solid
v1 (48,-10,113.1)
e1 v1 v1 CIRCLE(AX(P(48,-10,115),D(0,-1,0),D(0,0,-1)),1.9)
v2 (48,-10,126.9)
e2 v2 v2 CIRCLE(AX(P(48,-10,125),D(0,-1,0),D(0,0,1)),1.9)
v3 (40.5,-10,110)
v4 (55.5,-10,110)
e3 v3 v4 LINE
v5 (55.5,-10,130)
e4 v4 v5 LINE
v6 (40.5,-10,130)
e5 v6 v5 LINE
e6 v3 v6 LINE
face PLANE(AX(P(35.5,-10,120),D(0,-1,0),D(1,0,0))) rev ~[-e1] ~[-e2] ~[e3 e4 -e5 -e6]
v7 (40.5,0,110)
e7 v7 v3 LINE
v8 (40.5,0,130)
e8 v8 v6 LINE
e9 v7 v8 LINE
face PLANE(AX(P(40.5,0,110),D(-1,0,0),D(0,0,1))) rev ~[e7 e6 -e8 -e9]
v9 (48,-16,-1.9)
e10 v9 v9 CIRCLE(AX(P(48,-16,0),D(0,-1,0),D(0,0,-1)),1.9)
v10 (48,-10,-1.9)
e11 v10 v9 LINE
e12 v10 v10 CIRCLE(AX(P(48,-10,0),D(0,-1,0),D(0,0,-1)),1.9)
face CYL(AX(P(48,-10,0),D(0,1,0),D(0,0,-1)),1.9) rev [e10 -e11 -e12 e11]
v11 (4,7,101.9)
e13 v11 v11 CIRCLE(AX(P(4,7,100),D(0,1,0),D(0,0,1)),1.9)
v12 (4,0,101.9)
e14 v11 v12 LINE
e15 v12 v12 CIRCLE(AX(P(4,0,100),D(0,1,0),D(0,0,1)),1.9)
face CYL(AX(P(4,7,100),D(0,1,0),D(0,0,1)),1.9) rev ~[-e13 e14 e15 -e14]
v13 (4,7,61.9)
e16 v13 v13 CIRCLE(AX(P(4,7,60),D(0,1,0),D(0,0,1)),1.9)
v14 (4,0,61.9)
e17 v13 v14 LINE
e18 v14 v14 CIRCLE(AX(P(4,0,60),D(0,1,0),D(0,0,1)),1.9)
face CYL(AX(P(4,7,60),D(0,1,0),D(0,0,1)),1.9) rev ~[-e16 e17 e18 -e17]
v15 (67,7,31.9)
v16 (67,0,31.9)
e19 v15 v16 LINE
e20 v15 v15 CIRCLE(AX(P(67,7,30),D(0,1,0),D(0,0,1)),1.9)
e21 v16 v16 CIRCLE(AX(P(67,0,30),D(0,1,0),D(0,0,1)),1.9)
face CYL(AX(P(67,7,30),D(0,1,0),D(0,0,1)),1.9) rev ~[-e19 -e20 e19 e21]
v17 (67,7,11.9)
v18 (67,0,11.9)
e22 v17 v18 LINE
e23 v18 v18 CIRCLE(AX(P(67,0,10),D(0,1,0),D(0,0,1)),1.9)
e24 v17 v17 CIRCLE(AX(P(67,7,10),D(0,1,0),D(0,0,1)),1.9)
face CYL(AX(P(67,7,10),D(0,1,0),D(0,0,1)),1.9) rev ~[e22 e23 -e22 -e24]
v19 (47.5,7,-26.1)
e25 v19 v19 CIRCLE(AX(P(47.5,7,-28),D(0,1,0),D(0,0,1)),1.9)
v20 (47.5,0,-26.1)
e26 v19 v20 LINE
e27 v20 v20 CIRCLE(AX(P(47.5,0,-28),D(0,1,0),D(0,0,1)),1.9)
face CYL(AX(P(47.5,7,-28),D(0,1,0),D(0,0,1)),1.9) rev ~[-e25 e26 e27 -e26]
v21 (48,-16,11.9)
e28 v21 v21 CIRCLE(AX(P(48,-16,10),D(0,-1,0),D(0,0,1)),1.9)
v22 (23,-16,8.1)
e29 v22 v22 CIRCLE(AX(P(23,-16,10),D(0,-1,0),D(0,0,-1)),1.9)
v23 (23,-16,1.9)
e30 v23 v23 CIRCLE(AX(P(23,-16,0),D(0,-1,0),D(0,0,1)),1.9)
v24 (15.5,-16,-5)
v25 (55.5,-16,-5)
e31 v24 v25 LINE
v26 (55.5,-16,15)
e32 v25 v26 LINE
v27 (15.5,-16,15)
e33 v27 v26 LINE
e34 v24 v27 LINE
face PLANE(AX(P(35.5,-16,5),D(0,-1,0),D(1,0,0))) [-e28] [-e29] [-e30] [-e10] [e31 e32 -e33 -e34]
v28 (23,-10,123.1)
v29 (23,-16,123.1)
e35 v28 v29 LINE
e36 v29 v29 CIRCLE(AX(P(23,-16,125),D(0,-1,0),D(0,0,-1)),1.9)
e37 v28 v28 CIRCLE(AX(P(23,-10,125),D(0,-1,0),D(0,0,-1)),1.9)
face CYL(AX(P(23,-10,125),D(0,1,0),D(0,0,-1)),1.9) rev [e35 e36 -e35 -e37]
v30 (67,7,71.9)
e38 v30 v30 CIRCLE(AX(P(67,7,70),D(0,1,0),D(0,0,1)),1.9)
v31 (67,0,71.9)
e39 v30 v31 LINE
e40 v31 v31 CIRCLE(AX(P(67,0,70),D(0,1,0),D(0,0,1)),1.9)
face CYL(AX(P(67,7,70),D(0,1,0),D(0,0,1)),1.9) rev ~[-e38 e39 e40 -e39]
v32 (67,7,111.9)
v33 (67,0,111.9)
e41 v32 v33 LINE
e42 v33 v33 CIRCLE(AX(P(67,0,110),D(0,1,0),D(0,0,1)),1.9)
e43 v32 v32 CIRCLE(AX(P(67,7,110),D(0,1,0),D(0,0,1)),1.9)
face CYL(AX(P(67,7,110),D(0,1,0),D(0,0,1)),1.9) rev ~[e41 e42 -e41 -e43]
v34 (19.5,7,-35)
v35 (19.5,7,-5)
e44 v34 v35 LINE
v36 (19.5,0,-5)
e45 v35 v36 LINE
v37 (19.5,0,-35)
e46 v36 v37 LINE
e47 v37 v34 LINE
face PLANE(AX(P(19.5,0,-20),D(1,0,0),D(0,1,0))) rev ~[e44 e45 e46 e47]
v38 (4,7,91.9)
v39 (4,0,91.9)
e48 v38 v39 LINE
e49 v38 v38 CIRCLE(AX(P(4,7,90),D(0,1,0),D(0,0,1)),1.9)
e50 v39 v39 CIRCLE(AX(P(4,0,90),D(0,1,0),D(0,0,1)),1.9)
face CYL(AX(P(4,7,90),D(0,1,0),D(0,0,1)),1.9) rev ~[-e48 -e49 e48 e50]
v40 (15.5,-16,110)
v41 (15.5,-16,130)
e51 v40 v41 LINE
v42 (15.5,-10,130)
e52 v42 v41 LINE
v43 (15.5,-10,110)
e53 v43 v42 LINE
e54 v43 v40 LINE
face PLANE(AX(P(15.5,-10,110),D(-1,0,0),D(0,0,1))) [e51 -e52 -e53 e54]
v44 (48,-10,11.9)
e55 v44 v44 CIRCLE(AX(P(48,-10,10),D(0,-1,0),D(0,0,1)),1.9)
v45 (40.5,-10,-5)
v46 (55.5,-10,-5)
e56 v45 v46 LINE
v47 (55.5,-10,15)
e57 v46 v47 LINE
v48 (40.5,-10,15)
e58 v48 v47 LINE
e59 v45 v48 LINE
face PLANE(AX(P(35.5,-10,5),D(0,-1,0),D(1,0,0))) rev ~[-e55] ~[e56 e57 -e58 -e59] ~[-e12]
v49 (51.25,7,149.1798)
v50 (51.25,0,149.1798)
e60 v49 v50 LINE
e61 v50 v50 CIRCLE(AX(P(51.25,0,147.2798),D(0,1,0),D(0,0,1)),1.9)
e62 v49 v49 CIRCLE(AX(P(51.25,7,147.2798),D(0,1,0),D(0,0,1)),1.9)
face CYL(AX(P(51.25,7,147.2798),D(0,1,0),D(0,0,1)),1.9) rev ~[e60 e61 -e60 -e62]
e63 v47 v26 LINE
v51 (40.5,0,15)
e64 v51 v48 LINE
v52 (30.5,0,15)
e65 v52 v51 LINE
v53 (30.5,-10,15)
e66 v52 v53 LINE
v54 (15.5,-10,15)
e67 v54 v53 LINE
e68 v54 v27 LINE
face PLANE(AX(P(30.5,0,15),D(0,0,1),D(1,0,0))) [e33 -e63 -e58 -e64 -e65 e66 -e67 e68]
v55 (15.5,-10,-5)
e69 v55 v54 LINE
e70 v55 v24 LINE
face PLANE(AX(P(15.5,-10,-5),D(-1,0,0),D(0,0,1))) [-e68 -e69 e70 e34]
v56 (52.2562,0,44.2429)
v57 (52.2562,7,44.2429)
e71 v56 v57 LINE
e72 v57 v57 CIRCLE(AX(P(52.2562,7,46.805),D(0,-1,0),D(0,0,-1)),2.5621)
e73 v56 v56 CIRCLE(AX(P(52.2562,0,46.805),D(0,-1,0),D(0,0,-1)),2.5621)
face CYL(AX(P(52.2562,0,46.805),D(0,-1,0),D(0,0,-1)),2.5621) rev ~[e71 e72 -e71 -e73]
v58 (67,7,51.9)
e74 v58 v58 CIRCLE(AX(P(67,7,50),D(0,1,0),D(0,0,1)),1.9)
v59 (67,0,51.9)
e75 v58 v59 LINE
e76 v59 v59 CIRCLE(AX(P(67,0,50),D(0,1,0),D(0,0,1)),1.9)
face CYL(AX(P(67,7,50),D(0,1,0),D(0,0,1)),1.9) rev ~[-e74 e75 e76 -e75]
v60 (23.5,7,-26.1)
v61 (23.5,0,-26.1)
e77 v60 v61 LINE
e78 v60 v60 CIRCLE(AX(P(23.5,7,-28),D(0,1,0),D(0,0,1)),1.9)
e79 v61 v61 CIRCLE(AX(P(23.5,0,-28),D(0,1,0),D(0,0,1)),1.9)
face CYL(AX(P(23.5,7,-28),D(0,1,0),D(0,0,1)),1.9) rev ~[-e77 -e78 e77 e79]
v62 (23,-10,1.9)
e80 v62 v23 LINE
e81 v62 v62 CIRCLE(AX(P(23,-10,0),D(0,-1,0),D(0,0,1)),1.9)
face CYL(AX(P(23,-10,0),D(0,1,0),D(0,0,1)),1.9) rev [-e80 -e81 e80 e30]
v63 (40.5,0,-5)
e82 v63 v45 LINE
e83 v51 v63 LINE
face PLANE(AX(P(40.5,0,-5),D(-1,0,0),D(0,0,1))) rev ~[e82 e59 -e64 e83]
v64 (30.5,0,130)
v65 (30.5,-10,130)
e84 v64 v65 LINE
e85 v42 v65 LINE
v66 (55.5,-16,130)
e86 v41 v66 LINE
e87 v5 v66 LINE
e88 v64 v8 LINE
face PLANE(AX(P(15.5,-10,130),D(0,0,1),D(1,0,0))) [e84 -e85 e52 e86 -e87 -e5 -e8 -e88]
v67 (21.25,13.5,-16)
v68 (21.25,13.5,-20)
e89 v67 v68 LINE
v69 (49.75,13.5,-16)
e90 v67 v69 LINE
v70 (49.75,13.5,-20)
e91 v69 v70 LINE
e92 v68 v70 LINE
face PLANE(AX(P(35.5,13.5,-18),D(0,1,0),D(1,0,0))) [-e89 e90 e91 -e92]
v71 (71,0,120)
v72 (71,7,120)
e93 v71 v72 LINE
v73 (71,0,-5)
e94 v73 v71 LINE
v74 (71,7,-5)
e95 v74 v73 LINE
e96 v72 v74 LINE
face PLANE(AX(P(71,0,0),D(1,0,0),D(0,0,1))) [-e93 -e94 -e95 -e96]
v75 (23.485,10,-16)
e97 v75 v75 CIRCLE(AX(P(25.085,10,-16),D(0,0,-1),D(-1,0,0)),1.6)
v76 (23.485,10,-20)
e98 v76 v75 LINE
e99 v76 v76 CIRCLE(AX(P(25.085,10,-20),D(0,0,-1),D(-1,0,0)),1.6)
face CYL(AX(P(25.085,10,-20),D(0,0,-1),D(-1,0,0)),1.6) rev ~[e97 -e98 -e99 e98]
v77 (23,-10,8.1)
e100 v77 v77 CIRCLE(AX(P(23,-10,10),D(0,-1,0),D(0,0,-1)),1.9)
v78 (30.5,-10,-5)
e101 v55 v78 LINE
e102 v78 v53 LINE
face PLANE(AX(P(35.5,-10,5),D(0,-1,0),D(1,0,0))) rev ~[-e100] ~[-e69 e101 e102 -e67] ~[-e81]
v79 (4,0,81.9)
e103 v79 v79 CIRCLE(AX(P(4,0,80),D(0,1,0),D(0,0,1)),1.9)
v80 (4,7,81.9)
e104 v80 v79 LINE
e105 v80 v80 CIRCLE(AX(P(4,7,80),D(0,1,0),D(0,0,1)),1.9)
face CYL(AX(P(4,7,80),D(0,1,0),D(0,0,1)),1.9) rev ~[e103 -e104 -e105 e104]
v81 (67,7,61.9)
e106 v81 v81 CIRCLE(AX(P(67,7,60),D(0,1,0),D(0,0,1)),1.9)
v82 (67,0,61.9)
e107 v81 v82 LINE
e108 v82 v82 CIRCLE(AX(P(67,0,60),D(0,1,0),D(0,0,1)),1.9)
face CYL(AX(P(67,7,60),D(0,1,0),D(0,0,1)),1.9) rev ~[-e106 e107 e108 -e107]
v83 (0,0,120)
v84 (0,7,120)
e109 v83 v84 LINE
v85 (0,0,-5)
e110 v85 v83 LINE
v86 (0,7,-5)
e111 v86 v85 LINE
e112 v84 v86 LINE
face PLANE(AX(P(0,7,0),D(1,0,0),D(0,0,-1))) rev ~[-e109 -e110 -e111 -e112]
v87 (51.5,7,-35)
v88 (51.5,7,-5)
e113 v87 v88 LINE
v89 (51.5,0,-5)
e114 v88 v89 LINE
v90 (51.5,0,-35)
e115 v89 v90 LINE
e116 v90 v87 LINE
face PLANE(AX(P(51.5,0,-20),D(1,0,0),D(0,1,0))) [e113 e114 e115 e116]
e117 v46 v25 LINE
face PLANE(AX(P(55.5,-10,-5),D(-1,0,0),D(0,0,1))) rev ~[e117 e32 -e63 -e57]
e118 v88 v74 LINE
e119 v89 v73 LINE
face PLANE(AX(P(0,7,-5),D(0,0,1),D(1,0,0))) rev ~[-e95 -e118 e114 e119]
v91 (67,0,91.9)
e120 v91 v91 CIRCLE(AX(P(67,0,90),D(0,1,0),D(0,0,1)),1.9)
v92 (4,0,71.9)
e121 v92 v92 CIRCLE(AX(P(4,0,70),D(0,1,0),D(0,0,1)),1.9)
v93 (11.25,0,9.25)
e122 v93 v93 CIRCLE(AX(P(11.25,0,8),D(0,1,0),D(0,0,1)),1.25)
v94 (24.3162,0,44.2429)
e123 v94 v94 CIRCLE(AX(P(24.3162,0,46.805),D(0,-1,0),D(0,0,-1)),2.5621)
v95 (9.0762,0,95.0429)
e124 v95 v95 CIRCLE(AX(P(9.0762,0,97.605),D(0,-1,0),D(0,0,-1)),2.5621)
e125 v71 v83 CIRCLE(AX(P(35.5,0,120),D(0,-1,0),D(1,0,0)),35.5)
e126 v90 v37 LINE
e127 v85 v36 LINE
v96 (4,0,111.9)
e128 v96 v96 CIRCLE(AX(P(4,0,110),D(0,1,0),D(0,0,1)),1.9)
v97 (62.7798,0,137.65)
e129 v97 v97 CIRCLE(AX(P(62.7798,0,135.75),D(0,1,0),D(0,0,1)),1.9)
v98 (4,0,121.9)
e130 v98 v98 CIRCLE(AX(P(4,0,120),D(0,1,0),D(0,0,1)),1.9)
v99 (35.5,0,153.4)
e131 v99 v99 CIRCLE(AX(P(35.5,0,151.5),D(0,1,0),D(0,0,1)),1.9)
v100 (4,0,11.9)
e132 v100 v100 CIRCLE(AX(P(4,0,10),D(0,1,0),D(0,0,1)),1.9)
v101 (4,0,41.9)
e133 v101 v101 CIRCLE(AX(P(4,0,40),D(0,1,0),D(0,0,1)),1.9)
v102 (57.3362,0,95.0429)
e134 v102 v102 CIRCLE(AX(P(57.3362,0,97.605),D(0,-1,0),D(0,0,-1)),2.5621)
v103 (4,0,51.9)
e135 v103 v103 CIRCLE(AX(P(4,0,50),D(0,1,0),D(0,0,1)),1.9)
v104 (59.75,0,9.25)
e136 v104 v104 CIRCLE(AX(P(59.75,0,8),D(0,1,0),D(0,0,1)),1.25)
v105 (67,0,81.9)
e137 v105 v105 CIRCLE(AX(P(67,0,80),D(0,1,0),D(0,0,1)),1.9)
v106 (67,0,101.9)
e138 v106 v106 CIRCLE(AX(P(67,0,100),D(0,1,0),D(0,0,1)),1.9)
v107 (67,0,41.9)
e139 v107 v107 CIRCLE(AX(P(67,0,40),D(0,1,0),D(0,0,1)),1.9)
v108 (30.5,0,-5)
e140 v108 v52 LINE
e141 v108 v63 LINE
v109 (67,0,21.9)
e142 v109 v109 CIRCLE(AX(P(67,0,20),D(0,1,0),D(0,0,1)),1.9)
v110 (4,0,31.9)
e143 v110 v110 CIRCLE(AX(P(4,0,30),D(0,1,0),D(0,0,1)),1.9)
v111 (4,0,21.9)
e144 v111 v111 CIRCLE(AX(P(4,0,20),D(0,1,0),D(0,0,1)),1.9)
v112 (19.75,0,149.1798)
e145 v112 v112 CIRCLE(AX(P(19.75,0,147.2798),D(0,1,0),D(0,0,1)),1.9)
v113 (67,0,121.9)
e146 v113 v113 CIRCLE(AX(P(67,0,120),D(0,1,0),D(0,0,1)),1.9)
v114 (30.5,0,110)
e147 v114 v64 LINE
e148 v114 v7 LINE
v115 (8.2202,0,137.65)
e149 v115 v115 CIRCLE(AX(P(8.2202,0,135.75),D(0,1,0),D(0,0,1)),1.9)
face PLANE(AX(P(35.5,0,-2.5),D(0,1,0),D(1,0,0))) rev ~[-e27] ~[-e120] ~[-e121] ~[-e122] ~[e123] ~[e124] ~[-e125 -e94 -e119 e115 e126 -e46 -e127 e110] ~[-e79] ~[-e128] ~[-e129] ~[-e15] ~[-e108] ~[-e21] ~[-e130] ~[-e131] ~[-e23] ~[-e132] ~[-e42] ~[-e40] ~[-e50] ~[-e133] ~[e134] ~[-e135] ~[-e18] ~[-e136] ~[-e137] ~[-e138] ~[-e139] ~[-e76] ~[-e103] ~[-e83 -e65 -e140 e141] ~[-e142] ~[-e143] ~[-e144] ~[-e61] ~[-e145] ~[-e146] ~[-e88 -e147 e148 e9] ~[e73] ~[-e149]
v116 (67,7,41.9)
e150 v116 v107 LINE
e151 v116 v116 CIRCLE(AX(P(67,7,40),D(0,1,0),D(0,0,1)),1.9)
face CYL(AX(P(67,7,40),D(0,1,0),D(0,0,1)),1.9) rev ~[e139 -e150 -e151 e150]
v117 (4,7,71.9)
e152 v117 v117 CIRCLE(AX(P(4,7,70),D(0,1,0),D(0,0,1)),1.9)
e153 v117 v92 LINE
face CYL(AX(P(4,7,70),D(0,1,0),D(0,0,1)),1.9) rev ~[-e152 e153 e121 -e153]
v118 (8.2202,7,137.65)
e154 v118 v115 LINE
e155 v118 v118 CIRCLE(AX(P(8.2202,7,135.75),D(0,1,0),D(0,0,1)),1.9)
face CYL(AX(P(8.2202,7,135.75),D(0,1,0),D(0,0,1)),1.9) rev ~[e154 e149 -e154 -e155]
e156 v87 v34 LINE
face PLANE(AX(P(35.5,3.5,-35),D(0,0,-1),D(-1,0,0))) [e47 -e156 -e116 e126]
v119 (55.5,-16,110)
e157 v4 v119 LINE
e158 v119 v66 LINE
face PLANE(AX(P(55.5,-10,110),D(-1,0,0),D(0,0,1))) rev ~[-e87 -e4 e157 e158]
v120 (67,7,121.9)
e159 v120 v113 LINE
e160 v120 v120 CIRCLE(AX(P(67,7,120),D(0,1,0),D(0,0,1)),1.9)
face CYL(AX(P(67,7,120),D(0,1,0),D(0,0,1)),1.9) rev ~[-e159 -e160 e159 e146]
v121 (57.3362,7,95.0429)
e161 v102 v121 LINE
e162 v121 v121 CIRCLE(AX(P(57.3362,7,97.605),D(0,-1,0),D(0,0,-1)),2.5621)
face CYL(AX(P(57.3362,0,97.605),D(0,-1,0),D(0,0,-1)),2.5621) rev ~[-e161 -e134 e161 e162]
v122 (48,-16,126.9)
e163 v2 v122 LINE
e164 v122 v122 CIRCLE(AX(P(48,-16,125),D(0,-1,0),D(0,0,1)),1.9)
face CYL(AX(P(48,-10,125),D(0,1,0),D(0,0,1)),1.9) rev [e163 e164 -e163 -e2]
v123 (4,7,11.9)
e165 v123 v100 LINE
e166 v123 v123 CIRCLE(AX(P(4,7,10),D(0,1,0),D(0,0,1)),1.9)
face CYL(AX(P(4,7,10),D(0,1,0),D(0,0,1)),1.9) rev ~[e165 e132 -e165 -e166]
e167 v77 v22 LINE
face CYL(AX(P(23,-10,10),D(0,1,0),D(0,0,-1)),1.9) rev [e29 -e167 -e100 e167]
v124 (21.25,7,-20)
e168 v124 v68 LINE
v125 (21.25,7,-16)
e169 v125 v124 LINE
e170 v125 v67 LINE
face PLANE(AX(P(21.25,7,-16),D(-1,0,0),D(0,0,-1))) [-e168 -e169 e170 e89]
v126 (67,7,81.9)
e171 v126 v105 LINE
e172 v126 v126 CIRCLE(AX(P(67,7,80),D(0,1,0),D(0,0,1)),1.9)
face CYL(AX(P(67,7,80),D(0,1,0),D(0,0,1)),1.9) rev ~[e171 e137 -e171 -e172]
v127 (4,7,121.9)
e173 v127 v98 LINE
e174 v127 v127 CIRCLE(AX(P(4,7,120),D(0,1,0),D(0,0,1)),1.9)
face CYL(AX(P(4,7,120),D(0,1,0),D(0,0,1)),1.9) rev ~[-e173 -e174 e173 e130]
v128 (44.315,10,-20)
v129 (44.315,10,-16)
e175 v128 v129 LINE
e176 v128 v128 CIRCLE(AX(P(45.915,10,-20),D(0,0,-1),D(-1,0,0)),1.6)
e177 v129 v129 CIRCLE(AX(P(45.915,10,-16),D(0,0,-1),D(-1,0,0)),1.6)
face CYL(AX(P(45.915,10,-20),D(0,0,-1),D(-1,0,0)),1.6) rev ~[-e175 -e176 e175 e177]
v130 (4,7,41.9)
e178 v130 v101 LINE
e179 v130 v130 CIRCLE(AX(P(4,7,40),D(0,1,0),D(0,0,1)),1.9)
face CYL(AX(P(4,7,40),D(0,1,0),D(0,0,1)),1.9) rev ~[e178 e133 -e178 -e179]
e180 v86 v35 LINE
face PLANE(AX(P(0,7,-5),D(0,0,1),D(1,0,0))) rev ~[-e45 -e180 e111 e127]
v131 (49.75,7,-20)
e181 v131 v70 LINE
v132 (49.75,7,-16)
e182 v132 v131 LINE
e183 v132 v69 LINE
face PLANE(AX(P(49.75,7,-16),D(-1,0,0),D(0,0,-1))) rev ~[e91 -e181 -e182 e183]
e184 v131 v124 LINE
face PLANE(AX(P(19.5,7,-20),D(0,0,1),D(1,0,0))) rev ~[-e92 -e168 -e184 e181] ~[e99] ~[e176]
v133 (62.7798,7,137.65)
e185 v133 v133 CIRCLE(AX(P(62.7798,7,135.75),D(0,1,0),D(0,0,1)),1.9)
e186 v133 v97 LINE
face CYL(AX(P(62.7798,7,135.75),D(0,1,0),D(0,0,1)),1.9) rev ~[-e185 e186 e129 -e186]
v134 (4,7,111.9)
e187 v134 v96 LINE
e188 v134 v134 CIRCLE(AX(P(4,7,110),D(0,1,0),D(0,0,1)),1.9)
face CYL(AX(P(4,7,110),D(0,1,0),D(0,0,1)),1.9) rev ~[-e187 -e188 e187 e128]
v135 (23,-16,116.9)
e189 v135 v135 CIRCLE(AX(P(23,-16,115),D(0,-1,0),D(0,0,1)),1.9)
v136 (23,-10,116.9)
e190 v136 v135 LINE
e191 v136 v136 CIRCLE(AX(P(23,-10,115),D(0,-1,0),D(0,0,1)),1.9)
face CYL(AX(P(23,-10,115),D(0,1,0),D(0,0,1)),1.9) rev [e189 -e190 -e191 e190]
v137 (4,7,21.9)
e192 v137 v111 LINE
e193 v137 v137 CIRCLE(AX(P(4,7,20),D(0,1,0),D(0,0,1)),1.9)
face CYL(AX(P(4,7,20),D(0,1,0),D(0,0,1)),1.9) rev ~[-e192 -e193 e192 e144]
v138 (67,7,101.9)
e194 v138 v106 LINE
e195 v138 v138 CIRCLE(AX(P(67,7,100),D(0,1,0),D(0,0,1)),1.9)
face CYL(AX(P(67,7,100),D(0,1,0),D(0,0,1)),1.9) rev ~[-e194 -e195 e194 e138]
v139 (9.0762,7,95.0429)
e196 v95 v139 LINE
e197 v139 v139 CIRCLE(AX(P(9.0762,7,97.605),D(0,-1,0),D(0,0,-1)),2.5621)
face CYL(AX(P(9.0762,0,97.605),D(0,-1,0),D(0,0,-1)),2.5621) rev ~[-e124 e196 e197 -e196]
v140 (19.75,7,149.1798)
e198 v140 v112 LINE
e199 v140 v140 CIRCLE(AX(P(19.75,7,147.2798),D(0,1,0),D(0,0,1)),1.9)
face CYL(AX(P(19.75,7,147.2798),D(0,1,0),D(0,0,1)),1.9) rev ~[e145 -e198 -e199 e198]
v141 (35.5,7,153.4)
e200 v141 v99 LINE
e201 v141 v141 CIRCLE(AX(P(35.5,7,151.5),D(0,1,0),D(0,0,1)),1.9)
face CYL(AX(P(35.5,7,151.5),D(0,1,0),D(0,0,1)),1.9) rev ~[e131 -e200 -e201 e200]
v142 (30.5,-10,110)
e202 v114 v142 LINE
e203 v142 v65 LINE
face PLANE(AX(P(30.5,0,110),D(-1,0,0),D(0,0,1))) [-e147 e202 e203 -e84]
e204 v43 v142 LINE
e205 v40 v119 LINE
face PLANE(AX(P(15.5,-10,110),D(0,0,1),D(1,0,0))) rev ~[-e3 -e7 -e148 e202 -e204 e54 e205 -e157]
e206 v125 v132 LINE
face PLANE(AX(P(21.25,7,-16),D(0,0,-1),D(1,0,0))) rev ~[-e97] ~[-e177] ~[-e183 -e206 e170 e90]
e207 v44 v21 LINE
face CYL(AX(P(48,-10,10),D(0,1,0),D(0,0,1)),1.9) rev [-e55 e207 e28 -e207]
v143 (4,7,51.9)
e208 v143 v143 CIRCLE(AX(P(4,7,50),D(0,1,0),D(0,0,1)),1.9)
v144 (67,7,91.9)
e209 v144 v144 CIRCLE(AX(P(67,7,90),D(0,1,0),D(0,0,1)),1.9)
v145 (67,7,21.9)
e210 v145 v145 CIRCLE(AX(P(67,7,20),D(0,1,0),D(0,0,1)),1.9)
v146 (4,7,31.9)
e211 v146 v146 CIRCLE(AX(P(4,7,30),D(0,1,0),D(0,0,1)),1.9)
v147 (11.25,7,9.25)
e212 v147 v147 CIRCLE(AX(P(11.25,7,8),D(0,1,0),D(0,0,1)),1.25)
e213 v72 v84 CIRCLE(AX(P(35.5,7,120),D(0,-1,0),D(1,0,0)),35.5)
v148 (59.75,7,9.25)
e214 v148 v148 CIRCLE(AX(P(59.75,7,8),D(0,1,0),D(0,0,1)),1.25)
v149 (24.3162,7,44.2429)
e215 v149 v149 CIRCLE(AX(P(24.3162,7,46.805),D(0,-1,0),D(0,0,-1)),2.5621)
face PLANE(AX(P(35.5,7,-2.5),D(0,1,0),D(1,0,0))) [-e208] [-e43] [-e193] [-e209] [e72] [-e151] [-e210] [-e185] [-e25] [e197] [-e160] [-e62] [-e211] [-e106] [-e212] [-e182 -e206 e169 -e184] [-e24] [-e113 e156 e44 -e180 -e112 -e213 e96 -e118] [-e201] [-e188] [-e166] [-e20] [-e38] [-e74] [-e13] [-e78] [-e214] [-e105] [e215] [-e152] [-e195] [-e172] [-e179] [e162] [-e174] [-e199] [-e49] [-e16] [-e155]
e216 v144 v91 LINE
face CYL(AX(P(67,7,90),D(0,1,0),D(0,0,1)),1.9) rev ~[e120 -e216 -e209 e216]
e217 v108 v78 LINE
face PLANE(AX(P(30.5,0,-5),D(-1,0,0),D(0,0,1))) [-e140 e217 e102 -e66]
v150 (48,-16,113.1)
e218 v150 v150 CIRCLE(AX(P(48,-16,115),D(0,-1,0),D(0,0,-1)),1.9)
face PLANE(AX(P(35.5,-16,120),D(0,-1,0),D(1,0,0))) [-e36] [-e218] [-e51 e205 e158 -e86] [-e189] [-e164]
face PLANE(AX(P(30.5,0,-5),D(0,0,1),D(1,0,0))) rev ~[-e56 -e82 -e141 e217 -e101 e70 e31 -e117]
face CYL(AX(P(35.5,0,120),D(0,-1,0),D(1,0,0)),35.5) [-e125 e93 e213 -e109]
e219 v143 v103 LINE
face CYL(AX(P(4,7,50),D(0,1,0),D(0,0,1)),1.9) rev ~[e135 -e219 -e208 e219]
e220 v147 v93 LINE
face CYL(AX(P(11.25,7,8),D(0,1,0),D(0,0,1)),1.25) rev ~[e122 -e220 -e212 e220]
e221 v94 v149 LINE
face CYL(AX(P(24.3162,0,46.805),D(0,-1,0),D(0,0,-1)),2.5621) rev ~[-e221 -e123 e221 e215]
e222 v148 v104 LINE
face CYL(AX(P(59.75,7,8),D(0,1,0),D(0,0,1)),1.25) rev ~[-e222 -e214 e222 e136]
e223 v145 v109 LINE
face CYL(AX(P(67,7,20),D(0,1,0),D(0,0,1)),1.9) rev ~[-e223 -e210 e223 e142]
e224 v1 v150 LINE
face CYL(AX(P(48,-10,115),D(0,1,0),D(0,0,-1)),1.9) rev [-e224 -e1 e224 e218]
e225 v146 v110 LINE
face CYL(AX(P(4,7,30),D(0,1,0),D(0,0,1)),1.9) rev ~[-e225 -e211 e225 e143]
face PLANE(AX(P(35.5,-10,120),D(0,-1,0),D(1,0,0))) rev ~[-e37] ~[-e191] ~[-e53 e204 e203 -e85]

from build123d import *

# Parameters (mm, degrees)
MAIN_BODY_DEPTH     = 7
SKETCH3_W           = 32
SKETCH3_H           = 20
BOSS_EXTRUDE2_DEPTH = 7
SKETCH4_W           = 28.5
SKETCH4_H           = 4
BOSS_EXTRUDE3_DEPTH = 6.5
SKETCH7_W           = 32
SKETCH7_H           = 7
BOSS_EXTRUDE4_DEPTH = 15
SKETCH10_R          = 1.9
CUT_EXTRUDE5_DEPTH  = 7
SKETCH13_W          = 10
SKETCH13_H          = 20
BOSS_EXTRUDE5_DEPTH = 10
SKETCH14_W          = 40
SKETCH14_H          = 20
SKETCH14_R          = 1.9
BOSS_EXTRUDE6_DEPTH = 6
SKETCH17_W          = 71
SKETCH17_H          = 5
BOSS_EXTRUDE7_DEPTH = 7
SKETCH19_R          = 1.25
CUT_EXTRUDE7_DEPTH  = 7
SKETCH21_R          = 1.6
CUT_EXTRUDE9_DEPTH  = 4
SKETCH22_R          = 1.9
CUT_EXTRUDE10_DEPTH = 7
SKETCH15_R          = 2.5621
DUE_MOUNT_DEPTH     = 172.689399789


with BuildPart() as part:
    # Sketch2 → Main body (new body)
    with BuildSketch(Plane(origin=(0, 0, 0), x_dir=(1, 0, 0), z_dir=(0, 1, 0))):
        with BuildLine():
            Line((0, 0), (71, 0))
            Line((71, 0), (71, -120))
            ThreePointArc((71, -120), (35.5, -155.5), (0, -120))
            Line((0, -120), (0, 0))
        make_face()
    extrude(amount=MAIN_BODY_DEPTH)

    # Sketch3 → Boss-Extrude2 (add)
    with BuildSketch(Plane(origin=(0, 7, 0), x_dir=(1, 0, 0), z_dir=(0, 1, 0))):
        with Locations((35.5, 10)):
            Rectangle(SKETCH3_W, SKETCH3_H)
    extrude(amount=-BOSS_EXTRUDE2_DEPTH)

    # Sketch4 → Boss-Extrude3 (add)
    with BuildSketch(Plane(origin=(0, 7, 0), x_dir=(1, 0, 0), z_dir=(0, 1, 0))):
        with Locations((35.5, 18)):
            Rectangle(SKETCH4_W, SKETCH4_H)
    extrude(amount=BOSS_EXTRUDE3_DEPTH)

    # Sketch7 → Boss-Extrude4 (add)
    with BuildSketch(Plane(origin=(0, 0, -20), x_dir=(-1, 0, 0), z_dir=(0, 0, -1))):
        with Locations((-35.5, 3.5)):
            Rectangle(SKETCH7_W, SKETCH7_H)
    extrude(amount=BOSS_EXTRUDE4_DEPTH)

    # Sketch10 → Cut-Extrude5 (cut)
    with BuildSketch(Plane(origin=(0, 7, 0), x_dir=(1, 0, 0), z_dir=(0, 1, 0))):
        with Locations(Location((4, -120, 0), (0, 0, 270))):
            Circle(SKETCH10_R)
        with Locations(Location((4, -110, 0), (0, 0, 270))):
            Circle(SKETCH10_R)
        with Locations(Location((4, -100, 0), (0, 0, 270))):
            Circle(SKETCH10_R)
        with Locations(Location((4, -90, 0), (0, 0, 270))):
            Circle(SKETCH10_R)
        with Locations(Location((4, -80, 0), (0, 0, 270))):
            Circle(SKETCH10_R)
        with Locations(Location((4, -70, 0), (0, 0, 270))):
            Circle(SKETCH10_R)
        with Locations(Location((4, -60, 0), (0, 0, 270))):
            Circle(SKETCH10_R)
        with Locations(Location((4, -50, 0), (0, 0, 270))):
            Circle(SKETCH10_R)
        with Locations(Location((4, -40, 0), (0, 0, 270))):
            Circle(SKETCH10_R)
        with Locations(Location((4, -30, 0), (0, 0, 270))):
            Circle(SKETCH10_R)
        with Locations(Location((4, -20, 0), (0, 0, 270))):
            Circle(SKETCH10_R)
        with Locations(Location((4, -10, 0), (0, 0, 270))):
            Circle(SKETCH10_R)
        with Locations(Location((8.220199781, -135.75, 0), (0, 0, 270))):
            Circle(SKETCH10_R)
        with Locations(Location((19.75, -147.279800219, 0), (0, 0, 270))):
            Circle(SKETCH10_R)
        with Locations(Location((35.5, -151.5, 0), (0, 0, 270))):
            Circle(SKETCH10_R)
        with Locations(Location((51.25, -147.279800219, 0), (0, 0, 270))):
            Circle(SKETCH10_R)
        with Locations(Location((62.779800219, -135.75, 0), (0, 0, 270))):
            Circle(SKETCH10_R)
        with Locations(Location((67, -120, 0), (0, 0, 270))):
            Circle(SKETCH10_R)
        with Locations(Location((67, -10, 0), (0, 0, 270))):
            Circle(SKETCH10_R)
        with Locations(Location((67, -20, 0), (0, 0, 270))):
            Circle(SKETCH10_R)
        with Locations(Location((67, -30, 0), (0, 0, 270))):
            Circle(SKETCH10_R)
        with Locations(Location((67, -40, 0), (0, 0, 270))):
            Circle(SKETCH10_R)
        with Locations(Location((67, -50, 0), (0, 0, 270))):
            Circle(SKETCH10_R)
        with Locations(Location((67, -60, 0), (0, 0, 270))):
            Circle(SKETCH10_R)
        with Locations(Location((67, -70, 0), (0, 0, 270))):
            Circle(SKETCH10_R)
        with Locations(Location((67, -80, 0), (0, 0, 270))):
            Circle(SKETCH10_R)
        with Locations(Location((67, -90, 0), (0, 0, 270))):
            Circle(SKETCH10_R)
        with Locations(Location((67, -100, 0), (0, 0, 270))):
            Circle(SKETCH10_R)
        with Locations(Location((67, -110, 0), (0, 0, 270))):
            Circle(SKETCH10_R)
    extrude(amount=-CUT_EXTRUDE5_DEPTH, mode=Mode.SUBTRACT)

    # Sketch13 → Boss-Extrude5 (add)
    with BuildSketch(Plane.XZ):
        with Locations((35.5, 120)):
            Rectangle(SKETCH13_W, SKETCH13_H)
        with Locations((35.5, 5)):
            Rectangle(SKETCH13_W, SKETCH13_H)
    extrude(amount=BOSS_EXTRUDE5_DEPTH)

    # Sketch14 → Boss-Extrude6 (add)
    # profile 1 of 2: a face of its own
    with BuildSketch(Plane.XZ.offset(10)):
        with Locations((35.5, 120)):
            Rectangle(SKETCH14_W, SKETCH14_H)
        with Locations(Location((23, 125, 0), (0, 0, 270))):
            Circle(SKETCH14_R, mode=Mode.SUBTRACT)
        with Locations(Location((23, 115, 0), (0, 0, 90))):
            Circle(SKETCH14_R, mode=Mode.SUBTRACT)
        with Locations(Location((48, 125, 0), (0, 0, 90))):
            Circle(SKETCH14_R, mode=Mode.SUBTRACT)
        with Locations(Location((48, 115, 0), (0, 0, 270))):
            Circle(SKETCH14_R, mode=Mode.SUBTRACT)
    # profile 2 of 2: a face of its own
    with BuildSketch(Plane.XZ.offset(10)):
        with Locations((35.5, 5)):
            Rectangle(SKETCH14_W, SKETCH14_H)
        with Locations(Location((48, 0, 0), (0, 0, 270))):
            Circle(SKETCH14_R, mode=Mode.SUBTRACT)
        with Locations(Location((48, 10, 0), (0, 0, 90))):
            Circle(SKETCH14_R, mode=Mode.SUBTRACT)
        with Locations(Location((23, 0, 0), (0, 0, 90))):
            Circle(SKETCH14_R, mode=Mode.SUBTRACT)
        with Locations(Location((23, 10, 0), (0, 0, 270))):
            Circle(SKETCH14_R, mode=Mode.SUBTRACT)
    extrude(amount=BOSS_EXTRUDE6_DEPTH)

    # Sketch17 → Boss-Extrude7 (add)
    with BuildSketch(Plane(origin=(0, 7, 0), x_dir=(1, 0, 0), z_dir=(0, 1, 0))):
        with Locations((35.5, 2.5)):
            Rectangle(SKETCH17_W, SKETCH17_H)
    extrude(amount=-BOSS_EXTRUDE7_DEPTH)

    # Sketch19 → Cut-Extrude7 (cut)
    with BuildSketch(Plane(origin=(0, 7, 0), x_dir=(1, 0, 0), z_dir=(0, 1, 0))):
        with Locations(Location((11.25, -8, 0), (0, 0, 270))):
            Circle(SKETCH19_R)
        with Locations(Location((59.75, -8, 0), (0, 0, 270))):
            Circle(SKETCH19_R)
    extrude(amount=-CUT_EXTRUDE7_DEPTH, mode=Mode.SUBTRACT)

    # Sketch21 → Cut-Extrude9 (cut)
    with BuildSketch(Plane(origin=(0, 0, -20), x_dir=(-1, 0, 0), z_dir=(0, 0, -1))):
        with Locations((-45.915, 10)):
            Circle(SKETCH21_R)
        with Locations((-25.085, 10)):
            Circle(SKETCH21_R)
    extrude(amount=-CUT_EXTRUDE9_DEPTH, mode=Mode.SUBTRACT)

    # Sketch22 → Cut-Extrude10 (cut)
    with BuildSketch(Plane(origin=(0, 7, 0), x_dir=(1, 0, 0), z_dir=(0, 1, 0))):
        with Locations(Location((23.5, 28, 0), (0, 0, 270))):
            Circle(SKETCH22_R)
        with Locations(Location((47.5, 28, 0), (0, 0, 270))):
            Circle(SKETCH22_R)
    extrude(amount=-CUT_EXTRUDE10_DEPTH, mode=Mode.SUBTRACT)

    # Sketch15 → DUE mount (cut, through all)
    with BuildSketch(Plane.XZ):
        with Locations(Location((24.3162, 46.805, 0), (0, 0, 270))):
            Circle(SKETCH15_R)
        with Locations(Location((52.2562, 46.805, 0), (0, 0, 270))):
            Circle(SKETCH15_R)
        with Locations(Location((57.3362, 97.605, 0), (0, 0, 270))):
            Circle(SKETCH15_R)
        with Locations(Location((9.0762, 97.605, 0), (0, 0, 270))):
            Circle(SKETCH15_R)
    extrude(amount=-DUE_MOUNT_DEPTH, mode=Mode.SUBTRACT)


solid = part.part
